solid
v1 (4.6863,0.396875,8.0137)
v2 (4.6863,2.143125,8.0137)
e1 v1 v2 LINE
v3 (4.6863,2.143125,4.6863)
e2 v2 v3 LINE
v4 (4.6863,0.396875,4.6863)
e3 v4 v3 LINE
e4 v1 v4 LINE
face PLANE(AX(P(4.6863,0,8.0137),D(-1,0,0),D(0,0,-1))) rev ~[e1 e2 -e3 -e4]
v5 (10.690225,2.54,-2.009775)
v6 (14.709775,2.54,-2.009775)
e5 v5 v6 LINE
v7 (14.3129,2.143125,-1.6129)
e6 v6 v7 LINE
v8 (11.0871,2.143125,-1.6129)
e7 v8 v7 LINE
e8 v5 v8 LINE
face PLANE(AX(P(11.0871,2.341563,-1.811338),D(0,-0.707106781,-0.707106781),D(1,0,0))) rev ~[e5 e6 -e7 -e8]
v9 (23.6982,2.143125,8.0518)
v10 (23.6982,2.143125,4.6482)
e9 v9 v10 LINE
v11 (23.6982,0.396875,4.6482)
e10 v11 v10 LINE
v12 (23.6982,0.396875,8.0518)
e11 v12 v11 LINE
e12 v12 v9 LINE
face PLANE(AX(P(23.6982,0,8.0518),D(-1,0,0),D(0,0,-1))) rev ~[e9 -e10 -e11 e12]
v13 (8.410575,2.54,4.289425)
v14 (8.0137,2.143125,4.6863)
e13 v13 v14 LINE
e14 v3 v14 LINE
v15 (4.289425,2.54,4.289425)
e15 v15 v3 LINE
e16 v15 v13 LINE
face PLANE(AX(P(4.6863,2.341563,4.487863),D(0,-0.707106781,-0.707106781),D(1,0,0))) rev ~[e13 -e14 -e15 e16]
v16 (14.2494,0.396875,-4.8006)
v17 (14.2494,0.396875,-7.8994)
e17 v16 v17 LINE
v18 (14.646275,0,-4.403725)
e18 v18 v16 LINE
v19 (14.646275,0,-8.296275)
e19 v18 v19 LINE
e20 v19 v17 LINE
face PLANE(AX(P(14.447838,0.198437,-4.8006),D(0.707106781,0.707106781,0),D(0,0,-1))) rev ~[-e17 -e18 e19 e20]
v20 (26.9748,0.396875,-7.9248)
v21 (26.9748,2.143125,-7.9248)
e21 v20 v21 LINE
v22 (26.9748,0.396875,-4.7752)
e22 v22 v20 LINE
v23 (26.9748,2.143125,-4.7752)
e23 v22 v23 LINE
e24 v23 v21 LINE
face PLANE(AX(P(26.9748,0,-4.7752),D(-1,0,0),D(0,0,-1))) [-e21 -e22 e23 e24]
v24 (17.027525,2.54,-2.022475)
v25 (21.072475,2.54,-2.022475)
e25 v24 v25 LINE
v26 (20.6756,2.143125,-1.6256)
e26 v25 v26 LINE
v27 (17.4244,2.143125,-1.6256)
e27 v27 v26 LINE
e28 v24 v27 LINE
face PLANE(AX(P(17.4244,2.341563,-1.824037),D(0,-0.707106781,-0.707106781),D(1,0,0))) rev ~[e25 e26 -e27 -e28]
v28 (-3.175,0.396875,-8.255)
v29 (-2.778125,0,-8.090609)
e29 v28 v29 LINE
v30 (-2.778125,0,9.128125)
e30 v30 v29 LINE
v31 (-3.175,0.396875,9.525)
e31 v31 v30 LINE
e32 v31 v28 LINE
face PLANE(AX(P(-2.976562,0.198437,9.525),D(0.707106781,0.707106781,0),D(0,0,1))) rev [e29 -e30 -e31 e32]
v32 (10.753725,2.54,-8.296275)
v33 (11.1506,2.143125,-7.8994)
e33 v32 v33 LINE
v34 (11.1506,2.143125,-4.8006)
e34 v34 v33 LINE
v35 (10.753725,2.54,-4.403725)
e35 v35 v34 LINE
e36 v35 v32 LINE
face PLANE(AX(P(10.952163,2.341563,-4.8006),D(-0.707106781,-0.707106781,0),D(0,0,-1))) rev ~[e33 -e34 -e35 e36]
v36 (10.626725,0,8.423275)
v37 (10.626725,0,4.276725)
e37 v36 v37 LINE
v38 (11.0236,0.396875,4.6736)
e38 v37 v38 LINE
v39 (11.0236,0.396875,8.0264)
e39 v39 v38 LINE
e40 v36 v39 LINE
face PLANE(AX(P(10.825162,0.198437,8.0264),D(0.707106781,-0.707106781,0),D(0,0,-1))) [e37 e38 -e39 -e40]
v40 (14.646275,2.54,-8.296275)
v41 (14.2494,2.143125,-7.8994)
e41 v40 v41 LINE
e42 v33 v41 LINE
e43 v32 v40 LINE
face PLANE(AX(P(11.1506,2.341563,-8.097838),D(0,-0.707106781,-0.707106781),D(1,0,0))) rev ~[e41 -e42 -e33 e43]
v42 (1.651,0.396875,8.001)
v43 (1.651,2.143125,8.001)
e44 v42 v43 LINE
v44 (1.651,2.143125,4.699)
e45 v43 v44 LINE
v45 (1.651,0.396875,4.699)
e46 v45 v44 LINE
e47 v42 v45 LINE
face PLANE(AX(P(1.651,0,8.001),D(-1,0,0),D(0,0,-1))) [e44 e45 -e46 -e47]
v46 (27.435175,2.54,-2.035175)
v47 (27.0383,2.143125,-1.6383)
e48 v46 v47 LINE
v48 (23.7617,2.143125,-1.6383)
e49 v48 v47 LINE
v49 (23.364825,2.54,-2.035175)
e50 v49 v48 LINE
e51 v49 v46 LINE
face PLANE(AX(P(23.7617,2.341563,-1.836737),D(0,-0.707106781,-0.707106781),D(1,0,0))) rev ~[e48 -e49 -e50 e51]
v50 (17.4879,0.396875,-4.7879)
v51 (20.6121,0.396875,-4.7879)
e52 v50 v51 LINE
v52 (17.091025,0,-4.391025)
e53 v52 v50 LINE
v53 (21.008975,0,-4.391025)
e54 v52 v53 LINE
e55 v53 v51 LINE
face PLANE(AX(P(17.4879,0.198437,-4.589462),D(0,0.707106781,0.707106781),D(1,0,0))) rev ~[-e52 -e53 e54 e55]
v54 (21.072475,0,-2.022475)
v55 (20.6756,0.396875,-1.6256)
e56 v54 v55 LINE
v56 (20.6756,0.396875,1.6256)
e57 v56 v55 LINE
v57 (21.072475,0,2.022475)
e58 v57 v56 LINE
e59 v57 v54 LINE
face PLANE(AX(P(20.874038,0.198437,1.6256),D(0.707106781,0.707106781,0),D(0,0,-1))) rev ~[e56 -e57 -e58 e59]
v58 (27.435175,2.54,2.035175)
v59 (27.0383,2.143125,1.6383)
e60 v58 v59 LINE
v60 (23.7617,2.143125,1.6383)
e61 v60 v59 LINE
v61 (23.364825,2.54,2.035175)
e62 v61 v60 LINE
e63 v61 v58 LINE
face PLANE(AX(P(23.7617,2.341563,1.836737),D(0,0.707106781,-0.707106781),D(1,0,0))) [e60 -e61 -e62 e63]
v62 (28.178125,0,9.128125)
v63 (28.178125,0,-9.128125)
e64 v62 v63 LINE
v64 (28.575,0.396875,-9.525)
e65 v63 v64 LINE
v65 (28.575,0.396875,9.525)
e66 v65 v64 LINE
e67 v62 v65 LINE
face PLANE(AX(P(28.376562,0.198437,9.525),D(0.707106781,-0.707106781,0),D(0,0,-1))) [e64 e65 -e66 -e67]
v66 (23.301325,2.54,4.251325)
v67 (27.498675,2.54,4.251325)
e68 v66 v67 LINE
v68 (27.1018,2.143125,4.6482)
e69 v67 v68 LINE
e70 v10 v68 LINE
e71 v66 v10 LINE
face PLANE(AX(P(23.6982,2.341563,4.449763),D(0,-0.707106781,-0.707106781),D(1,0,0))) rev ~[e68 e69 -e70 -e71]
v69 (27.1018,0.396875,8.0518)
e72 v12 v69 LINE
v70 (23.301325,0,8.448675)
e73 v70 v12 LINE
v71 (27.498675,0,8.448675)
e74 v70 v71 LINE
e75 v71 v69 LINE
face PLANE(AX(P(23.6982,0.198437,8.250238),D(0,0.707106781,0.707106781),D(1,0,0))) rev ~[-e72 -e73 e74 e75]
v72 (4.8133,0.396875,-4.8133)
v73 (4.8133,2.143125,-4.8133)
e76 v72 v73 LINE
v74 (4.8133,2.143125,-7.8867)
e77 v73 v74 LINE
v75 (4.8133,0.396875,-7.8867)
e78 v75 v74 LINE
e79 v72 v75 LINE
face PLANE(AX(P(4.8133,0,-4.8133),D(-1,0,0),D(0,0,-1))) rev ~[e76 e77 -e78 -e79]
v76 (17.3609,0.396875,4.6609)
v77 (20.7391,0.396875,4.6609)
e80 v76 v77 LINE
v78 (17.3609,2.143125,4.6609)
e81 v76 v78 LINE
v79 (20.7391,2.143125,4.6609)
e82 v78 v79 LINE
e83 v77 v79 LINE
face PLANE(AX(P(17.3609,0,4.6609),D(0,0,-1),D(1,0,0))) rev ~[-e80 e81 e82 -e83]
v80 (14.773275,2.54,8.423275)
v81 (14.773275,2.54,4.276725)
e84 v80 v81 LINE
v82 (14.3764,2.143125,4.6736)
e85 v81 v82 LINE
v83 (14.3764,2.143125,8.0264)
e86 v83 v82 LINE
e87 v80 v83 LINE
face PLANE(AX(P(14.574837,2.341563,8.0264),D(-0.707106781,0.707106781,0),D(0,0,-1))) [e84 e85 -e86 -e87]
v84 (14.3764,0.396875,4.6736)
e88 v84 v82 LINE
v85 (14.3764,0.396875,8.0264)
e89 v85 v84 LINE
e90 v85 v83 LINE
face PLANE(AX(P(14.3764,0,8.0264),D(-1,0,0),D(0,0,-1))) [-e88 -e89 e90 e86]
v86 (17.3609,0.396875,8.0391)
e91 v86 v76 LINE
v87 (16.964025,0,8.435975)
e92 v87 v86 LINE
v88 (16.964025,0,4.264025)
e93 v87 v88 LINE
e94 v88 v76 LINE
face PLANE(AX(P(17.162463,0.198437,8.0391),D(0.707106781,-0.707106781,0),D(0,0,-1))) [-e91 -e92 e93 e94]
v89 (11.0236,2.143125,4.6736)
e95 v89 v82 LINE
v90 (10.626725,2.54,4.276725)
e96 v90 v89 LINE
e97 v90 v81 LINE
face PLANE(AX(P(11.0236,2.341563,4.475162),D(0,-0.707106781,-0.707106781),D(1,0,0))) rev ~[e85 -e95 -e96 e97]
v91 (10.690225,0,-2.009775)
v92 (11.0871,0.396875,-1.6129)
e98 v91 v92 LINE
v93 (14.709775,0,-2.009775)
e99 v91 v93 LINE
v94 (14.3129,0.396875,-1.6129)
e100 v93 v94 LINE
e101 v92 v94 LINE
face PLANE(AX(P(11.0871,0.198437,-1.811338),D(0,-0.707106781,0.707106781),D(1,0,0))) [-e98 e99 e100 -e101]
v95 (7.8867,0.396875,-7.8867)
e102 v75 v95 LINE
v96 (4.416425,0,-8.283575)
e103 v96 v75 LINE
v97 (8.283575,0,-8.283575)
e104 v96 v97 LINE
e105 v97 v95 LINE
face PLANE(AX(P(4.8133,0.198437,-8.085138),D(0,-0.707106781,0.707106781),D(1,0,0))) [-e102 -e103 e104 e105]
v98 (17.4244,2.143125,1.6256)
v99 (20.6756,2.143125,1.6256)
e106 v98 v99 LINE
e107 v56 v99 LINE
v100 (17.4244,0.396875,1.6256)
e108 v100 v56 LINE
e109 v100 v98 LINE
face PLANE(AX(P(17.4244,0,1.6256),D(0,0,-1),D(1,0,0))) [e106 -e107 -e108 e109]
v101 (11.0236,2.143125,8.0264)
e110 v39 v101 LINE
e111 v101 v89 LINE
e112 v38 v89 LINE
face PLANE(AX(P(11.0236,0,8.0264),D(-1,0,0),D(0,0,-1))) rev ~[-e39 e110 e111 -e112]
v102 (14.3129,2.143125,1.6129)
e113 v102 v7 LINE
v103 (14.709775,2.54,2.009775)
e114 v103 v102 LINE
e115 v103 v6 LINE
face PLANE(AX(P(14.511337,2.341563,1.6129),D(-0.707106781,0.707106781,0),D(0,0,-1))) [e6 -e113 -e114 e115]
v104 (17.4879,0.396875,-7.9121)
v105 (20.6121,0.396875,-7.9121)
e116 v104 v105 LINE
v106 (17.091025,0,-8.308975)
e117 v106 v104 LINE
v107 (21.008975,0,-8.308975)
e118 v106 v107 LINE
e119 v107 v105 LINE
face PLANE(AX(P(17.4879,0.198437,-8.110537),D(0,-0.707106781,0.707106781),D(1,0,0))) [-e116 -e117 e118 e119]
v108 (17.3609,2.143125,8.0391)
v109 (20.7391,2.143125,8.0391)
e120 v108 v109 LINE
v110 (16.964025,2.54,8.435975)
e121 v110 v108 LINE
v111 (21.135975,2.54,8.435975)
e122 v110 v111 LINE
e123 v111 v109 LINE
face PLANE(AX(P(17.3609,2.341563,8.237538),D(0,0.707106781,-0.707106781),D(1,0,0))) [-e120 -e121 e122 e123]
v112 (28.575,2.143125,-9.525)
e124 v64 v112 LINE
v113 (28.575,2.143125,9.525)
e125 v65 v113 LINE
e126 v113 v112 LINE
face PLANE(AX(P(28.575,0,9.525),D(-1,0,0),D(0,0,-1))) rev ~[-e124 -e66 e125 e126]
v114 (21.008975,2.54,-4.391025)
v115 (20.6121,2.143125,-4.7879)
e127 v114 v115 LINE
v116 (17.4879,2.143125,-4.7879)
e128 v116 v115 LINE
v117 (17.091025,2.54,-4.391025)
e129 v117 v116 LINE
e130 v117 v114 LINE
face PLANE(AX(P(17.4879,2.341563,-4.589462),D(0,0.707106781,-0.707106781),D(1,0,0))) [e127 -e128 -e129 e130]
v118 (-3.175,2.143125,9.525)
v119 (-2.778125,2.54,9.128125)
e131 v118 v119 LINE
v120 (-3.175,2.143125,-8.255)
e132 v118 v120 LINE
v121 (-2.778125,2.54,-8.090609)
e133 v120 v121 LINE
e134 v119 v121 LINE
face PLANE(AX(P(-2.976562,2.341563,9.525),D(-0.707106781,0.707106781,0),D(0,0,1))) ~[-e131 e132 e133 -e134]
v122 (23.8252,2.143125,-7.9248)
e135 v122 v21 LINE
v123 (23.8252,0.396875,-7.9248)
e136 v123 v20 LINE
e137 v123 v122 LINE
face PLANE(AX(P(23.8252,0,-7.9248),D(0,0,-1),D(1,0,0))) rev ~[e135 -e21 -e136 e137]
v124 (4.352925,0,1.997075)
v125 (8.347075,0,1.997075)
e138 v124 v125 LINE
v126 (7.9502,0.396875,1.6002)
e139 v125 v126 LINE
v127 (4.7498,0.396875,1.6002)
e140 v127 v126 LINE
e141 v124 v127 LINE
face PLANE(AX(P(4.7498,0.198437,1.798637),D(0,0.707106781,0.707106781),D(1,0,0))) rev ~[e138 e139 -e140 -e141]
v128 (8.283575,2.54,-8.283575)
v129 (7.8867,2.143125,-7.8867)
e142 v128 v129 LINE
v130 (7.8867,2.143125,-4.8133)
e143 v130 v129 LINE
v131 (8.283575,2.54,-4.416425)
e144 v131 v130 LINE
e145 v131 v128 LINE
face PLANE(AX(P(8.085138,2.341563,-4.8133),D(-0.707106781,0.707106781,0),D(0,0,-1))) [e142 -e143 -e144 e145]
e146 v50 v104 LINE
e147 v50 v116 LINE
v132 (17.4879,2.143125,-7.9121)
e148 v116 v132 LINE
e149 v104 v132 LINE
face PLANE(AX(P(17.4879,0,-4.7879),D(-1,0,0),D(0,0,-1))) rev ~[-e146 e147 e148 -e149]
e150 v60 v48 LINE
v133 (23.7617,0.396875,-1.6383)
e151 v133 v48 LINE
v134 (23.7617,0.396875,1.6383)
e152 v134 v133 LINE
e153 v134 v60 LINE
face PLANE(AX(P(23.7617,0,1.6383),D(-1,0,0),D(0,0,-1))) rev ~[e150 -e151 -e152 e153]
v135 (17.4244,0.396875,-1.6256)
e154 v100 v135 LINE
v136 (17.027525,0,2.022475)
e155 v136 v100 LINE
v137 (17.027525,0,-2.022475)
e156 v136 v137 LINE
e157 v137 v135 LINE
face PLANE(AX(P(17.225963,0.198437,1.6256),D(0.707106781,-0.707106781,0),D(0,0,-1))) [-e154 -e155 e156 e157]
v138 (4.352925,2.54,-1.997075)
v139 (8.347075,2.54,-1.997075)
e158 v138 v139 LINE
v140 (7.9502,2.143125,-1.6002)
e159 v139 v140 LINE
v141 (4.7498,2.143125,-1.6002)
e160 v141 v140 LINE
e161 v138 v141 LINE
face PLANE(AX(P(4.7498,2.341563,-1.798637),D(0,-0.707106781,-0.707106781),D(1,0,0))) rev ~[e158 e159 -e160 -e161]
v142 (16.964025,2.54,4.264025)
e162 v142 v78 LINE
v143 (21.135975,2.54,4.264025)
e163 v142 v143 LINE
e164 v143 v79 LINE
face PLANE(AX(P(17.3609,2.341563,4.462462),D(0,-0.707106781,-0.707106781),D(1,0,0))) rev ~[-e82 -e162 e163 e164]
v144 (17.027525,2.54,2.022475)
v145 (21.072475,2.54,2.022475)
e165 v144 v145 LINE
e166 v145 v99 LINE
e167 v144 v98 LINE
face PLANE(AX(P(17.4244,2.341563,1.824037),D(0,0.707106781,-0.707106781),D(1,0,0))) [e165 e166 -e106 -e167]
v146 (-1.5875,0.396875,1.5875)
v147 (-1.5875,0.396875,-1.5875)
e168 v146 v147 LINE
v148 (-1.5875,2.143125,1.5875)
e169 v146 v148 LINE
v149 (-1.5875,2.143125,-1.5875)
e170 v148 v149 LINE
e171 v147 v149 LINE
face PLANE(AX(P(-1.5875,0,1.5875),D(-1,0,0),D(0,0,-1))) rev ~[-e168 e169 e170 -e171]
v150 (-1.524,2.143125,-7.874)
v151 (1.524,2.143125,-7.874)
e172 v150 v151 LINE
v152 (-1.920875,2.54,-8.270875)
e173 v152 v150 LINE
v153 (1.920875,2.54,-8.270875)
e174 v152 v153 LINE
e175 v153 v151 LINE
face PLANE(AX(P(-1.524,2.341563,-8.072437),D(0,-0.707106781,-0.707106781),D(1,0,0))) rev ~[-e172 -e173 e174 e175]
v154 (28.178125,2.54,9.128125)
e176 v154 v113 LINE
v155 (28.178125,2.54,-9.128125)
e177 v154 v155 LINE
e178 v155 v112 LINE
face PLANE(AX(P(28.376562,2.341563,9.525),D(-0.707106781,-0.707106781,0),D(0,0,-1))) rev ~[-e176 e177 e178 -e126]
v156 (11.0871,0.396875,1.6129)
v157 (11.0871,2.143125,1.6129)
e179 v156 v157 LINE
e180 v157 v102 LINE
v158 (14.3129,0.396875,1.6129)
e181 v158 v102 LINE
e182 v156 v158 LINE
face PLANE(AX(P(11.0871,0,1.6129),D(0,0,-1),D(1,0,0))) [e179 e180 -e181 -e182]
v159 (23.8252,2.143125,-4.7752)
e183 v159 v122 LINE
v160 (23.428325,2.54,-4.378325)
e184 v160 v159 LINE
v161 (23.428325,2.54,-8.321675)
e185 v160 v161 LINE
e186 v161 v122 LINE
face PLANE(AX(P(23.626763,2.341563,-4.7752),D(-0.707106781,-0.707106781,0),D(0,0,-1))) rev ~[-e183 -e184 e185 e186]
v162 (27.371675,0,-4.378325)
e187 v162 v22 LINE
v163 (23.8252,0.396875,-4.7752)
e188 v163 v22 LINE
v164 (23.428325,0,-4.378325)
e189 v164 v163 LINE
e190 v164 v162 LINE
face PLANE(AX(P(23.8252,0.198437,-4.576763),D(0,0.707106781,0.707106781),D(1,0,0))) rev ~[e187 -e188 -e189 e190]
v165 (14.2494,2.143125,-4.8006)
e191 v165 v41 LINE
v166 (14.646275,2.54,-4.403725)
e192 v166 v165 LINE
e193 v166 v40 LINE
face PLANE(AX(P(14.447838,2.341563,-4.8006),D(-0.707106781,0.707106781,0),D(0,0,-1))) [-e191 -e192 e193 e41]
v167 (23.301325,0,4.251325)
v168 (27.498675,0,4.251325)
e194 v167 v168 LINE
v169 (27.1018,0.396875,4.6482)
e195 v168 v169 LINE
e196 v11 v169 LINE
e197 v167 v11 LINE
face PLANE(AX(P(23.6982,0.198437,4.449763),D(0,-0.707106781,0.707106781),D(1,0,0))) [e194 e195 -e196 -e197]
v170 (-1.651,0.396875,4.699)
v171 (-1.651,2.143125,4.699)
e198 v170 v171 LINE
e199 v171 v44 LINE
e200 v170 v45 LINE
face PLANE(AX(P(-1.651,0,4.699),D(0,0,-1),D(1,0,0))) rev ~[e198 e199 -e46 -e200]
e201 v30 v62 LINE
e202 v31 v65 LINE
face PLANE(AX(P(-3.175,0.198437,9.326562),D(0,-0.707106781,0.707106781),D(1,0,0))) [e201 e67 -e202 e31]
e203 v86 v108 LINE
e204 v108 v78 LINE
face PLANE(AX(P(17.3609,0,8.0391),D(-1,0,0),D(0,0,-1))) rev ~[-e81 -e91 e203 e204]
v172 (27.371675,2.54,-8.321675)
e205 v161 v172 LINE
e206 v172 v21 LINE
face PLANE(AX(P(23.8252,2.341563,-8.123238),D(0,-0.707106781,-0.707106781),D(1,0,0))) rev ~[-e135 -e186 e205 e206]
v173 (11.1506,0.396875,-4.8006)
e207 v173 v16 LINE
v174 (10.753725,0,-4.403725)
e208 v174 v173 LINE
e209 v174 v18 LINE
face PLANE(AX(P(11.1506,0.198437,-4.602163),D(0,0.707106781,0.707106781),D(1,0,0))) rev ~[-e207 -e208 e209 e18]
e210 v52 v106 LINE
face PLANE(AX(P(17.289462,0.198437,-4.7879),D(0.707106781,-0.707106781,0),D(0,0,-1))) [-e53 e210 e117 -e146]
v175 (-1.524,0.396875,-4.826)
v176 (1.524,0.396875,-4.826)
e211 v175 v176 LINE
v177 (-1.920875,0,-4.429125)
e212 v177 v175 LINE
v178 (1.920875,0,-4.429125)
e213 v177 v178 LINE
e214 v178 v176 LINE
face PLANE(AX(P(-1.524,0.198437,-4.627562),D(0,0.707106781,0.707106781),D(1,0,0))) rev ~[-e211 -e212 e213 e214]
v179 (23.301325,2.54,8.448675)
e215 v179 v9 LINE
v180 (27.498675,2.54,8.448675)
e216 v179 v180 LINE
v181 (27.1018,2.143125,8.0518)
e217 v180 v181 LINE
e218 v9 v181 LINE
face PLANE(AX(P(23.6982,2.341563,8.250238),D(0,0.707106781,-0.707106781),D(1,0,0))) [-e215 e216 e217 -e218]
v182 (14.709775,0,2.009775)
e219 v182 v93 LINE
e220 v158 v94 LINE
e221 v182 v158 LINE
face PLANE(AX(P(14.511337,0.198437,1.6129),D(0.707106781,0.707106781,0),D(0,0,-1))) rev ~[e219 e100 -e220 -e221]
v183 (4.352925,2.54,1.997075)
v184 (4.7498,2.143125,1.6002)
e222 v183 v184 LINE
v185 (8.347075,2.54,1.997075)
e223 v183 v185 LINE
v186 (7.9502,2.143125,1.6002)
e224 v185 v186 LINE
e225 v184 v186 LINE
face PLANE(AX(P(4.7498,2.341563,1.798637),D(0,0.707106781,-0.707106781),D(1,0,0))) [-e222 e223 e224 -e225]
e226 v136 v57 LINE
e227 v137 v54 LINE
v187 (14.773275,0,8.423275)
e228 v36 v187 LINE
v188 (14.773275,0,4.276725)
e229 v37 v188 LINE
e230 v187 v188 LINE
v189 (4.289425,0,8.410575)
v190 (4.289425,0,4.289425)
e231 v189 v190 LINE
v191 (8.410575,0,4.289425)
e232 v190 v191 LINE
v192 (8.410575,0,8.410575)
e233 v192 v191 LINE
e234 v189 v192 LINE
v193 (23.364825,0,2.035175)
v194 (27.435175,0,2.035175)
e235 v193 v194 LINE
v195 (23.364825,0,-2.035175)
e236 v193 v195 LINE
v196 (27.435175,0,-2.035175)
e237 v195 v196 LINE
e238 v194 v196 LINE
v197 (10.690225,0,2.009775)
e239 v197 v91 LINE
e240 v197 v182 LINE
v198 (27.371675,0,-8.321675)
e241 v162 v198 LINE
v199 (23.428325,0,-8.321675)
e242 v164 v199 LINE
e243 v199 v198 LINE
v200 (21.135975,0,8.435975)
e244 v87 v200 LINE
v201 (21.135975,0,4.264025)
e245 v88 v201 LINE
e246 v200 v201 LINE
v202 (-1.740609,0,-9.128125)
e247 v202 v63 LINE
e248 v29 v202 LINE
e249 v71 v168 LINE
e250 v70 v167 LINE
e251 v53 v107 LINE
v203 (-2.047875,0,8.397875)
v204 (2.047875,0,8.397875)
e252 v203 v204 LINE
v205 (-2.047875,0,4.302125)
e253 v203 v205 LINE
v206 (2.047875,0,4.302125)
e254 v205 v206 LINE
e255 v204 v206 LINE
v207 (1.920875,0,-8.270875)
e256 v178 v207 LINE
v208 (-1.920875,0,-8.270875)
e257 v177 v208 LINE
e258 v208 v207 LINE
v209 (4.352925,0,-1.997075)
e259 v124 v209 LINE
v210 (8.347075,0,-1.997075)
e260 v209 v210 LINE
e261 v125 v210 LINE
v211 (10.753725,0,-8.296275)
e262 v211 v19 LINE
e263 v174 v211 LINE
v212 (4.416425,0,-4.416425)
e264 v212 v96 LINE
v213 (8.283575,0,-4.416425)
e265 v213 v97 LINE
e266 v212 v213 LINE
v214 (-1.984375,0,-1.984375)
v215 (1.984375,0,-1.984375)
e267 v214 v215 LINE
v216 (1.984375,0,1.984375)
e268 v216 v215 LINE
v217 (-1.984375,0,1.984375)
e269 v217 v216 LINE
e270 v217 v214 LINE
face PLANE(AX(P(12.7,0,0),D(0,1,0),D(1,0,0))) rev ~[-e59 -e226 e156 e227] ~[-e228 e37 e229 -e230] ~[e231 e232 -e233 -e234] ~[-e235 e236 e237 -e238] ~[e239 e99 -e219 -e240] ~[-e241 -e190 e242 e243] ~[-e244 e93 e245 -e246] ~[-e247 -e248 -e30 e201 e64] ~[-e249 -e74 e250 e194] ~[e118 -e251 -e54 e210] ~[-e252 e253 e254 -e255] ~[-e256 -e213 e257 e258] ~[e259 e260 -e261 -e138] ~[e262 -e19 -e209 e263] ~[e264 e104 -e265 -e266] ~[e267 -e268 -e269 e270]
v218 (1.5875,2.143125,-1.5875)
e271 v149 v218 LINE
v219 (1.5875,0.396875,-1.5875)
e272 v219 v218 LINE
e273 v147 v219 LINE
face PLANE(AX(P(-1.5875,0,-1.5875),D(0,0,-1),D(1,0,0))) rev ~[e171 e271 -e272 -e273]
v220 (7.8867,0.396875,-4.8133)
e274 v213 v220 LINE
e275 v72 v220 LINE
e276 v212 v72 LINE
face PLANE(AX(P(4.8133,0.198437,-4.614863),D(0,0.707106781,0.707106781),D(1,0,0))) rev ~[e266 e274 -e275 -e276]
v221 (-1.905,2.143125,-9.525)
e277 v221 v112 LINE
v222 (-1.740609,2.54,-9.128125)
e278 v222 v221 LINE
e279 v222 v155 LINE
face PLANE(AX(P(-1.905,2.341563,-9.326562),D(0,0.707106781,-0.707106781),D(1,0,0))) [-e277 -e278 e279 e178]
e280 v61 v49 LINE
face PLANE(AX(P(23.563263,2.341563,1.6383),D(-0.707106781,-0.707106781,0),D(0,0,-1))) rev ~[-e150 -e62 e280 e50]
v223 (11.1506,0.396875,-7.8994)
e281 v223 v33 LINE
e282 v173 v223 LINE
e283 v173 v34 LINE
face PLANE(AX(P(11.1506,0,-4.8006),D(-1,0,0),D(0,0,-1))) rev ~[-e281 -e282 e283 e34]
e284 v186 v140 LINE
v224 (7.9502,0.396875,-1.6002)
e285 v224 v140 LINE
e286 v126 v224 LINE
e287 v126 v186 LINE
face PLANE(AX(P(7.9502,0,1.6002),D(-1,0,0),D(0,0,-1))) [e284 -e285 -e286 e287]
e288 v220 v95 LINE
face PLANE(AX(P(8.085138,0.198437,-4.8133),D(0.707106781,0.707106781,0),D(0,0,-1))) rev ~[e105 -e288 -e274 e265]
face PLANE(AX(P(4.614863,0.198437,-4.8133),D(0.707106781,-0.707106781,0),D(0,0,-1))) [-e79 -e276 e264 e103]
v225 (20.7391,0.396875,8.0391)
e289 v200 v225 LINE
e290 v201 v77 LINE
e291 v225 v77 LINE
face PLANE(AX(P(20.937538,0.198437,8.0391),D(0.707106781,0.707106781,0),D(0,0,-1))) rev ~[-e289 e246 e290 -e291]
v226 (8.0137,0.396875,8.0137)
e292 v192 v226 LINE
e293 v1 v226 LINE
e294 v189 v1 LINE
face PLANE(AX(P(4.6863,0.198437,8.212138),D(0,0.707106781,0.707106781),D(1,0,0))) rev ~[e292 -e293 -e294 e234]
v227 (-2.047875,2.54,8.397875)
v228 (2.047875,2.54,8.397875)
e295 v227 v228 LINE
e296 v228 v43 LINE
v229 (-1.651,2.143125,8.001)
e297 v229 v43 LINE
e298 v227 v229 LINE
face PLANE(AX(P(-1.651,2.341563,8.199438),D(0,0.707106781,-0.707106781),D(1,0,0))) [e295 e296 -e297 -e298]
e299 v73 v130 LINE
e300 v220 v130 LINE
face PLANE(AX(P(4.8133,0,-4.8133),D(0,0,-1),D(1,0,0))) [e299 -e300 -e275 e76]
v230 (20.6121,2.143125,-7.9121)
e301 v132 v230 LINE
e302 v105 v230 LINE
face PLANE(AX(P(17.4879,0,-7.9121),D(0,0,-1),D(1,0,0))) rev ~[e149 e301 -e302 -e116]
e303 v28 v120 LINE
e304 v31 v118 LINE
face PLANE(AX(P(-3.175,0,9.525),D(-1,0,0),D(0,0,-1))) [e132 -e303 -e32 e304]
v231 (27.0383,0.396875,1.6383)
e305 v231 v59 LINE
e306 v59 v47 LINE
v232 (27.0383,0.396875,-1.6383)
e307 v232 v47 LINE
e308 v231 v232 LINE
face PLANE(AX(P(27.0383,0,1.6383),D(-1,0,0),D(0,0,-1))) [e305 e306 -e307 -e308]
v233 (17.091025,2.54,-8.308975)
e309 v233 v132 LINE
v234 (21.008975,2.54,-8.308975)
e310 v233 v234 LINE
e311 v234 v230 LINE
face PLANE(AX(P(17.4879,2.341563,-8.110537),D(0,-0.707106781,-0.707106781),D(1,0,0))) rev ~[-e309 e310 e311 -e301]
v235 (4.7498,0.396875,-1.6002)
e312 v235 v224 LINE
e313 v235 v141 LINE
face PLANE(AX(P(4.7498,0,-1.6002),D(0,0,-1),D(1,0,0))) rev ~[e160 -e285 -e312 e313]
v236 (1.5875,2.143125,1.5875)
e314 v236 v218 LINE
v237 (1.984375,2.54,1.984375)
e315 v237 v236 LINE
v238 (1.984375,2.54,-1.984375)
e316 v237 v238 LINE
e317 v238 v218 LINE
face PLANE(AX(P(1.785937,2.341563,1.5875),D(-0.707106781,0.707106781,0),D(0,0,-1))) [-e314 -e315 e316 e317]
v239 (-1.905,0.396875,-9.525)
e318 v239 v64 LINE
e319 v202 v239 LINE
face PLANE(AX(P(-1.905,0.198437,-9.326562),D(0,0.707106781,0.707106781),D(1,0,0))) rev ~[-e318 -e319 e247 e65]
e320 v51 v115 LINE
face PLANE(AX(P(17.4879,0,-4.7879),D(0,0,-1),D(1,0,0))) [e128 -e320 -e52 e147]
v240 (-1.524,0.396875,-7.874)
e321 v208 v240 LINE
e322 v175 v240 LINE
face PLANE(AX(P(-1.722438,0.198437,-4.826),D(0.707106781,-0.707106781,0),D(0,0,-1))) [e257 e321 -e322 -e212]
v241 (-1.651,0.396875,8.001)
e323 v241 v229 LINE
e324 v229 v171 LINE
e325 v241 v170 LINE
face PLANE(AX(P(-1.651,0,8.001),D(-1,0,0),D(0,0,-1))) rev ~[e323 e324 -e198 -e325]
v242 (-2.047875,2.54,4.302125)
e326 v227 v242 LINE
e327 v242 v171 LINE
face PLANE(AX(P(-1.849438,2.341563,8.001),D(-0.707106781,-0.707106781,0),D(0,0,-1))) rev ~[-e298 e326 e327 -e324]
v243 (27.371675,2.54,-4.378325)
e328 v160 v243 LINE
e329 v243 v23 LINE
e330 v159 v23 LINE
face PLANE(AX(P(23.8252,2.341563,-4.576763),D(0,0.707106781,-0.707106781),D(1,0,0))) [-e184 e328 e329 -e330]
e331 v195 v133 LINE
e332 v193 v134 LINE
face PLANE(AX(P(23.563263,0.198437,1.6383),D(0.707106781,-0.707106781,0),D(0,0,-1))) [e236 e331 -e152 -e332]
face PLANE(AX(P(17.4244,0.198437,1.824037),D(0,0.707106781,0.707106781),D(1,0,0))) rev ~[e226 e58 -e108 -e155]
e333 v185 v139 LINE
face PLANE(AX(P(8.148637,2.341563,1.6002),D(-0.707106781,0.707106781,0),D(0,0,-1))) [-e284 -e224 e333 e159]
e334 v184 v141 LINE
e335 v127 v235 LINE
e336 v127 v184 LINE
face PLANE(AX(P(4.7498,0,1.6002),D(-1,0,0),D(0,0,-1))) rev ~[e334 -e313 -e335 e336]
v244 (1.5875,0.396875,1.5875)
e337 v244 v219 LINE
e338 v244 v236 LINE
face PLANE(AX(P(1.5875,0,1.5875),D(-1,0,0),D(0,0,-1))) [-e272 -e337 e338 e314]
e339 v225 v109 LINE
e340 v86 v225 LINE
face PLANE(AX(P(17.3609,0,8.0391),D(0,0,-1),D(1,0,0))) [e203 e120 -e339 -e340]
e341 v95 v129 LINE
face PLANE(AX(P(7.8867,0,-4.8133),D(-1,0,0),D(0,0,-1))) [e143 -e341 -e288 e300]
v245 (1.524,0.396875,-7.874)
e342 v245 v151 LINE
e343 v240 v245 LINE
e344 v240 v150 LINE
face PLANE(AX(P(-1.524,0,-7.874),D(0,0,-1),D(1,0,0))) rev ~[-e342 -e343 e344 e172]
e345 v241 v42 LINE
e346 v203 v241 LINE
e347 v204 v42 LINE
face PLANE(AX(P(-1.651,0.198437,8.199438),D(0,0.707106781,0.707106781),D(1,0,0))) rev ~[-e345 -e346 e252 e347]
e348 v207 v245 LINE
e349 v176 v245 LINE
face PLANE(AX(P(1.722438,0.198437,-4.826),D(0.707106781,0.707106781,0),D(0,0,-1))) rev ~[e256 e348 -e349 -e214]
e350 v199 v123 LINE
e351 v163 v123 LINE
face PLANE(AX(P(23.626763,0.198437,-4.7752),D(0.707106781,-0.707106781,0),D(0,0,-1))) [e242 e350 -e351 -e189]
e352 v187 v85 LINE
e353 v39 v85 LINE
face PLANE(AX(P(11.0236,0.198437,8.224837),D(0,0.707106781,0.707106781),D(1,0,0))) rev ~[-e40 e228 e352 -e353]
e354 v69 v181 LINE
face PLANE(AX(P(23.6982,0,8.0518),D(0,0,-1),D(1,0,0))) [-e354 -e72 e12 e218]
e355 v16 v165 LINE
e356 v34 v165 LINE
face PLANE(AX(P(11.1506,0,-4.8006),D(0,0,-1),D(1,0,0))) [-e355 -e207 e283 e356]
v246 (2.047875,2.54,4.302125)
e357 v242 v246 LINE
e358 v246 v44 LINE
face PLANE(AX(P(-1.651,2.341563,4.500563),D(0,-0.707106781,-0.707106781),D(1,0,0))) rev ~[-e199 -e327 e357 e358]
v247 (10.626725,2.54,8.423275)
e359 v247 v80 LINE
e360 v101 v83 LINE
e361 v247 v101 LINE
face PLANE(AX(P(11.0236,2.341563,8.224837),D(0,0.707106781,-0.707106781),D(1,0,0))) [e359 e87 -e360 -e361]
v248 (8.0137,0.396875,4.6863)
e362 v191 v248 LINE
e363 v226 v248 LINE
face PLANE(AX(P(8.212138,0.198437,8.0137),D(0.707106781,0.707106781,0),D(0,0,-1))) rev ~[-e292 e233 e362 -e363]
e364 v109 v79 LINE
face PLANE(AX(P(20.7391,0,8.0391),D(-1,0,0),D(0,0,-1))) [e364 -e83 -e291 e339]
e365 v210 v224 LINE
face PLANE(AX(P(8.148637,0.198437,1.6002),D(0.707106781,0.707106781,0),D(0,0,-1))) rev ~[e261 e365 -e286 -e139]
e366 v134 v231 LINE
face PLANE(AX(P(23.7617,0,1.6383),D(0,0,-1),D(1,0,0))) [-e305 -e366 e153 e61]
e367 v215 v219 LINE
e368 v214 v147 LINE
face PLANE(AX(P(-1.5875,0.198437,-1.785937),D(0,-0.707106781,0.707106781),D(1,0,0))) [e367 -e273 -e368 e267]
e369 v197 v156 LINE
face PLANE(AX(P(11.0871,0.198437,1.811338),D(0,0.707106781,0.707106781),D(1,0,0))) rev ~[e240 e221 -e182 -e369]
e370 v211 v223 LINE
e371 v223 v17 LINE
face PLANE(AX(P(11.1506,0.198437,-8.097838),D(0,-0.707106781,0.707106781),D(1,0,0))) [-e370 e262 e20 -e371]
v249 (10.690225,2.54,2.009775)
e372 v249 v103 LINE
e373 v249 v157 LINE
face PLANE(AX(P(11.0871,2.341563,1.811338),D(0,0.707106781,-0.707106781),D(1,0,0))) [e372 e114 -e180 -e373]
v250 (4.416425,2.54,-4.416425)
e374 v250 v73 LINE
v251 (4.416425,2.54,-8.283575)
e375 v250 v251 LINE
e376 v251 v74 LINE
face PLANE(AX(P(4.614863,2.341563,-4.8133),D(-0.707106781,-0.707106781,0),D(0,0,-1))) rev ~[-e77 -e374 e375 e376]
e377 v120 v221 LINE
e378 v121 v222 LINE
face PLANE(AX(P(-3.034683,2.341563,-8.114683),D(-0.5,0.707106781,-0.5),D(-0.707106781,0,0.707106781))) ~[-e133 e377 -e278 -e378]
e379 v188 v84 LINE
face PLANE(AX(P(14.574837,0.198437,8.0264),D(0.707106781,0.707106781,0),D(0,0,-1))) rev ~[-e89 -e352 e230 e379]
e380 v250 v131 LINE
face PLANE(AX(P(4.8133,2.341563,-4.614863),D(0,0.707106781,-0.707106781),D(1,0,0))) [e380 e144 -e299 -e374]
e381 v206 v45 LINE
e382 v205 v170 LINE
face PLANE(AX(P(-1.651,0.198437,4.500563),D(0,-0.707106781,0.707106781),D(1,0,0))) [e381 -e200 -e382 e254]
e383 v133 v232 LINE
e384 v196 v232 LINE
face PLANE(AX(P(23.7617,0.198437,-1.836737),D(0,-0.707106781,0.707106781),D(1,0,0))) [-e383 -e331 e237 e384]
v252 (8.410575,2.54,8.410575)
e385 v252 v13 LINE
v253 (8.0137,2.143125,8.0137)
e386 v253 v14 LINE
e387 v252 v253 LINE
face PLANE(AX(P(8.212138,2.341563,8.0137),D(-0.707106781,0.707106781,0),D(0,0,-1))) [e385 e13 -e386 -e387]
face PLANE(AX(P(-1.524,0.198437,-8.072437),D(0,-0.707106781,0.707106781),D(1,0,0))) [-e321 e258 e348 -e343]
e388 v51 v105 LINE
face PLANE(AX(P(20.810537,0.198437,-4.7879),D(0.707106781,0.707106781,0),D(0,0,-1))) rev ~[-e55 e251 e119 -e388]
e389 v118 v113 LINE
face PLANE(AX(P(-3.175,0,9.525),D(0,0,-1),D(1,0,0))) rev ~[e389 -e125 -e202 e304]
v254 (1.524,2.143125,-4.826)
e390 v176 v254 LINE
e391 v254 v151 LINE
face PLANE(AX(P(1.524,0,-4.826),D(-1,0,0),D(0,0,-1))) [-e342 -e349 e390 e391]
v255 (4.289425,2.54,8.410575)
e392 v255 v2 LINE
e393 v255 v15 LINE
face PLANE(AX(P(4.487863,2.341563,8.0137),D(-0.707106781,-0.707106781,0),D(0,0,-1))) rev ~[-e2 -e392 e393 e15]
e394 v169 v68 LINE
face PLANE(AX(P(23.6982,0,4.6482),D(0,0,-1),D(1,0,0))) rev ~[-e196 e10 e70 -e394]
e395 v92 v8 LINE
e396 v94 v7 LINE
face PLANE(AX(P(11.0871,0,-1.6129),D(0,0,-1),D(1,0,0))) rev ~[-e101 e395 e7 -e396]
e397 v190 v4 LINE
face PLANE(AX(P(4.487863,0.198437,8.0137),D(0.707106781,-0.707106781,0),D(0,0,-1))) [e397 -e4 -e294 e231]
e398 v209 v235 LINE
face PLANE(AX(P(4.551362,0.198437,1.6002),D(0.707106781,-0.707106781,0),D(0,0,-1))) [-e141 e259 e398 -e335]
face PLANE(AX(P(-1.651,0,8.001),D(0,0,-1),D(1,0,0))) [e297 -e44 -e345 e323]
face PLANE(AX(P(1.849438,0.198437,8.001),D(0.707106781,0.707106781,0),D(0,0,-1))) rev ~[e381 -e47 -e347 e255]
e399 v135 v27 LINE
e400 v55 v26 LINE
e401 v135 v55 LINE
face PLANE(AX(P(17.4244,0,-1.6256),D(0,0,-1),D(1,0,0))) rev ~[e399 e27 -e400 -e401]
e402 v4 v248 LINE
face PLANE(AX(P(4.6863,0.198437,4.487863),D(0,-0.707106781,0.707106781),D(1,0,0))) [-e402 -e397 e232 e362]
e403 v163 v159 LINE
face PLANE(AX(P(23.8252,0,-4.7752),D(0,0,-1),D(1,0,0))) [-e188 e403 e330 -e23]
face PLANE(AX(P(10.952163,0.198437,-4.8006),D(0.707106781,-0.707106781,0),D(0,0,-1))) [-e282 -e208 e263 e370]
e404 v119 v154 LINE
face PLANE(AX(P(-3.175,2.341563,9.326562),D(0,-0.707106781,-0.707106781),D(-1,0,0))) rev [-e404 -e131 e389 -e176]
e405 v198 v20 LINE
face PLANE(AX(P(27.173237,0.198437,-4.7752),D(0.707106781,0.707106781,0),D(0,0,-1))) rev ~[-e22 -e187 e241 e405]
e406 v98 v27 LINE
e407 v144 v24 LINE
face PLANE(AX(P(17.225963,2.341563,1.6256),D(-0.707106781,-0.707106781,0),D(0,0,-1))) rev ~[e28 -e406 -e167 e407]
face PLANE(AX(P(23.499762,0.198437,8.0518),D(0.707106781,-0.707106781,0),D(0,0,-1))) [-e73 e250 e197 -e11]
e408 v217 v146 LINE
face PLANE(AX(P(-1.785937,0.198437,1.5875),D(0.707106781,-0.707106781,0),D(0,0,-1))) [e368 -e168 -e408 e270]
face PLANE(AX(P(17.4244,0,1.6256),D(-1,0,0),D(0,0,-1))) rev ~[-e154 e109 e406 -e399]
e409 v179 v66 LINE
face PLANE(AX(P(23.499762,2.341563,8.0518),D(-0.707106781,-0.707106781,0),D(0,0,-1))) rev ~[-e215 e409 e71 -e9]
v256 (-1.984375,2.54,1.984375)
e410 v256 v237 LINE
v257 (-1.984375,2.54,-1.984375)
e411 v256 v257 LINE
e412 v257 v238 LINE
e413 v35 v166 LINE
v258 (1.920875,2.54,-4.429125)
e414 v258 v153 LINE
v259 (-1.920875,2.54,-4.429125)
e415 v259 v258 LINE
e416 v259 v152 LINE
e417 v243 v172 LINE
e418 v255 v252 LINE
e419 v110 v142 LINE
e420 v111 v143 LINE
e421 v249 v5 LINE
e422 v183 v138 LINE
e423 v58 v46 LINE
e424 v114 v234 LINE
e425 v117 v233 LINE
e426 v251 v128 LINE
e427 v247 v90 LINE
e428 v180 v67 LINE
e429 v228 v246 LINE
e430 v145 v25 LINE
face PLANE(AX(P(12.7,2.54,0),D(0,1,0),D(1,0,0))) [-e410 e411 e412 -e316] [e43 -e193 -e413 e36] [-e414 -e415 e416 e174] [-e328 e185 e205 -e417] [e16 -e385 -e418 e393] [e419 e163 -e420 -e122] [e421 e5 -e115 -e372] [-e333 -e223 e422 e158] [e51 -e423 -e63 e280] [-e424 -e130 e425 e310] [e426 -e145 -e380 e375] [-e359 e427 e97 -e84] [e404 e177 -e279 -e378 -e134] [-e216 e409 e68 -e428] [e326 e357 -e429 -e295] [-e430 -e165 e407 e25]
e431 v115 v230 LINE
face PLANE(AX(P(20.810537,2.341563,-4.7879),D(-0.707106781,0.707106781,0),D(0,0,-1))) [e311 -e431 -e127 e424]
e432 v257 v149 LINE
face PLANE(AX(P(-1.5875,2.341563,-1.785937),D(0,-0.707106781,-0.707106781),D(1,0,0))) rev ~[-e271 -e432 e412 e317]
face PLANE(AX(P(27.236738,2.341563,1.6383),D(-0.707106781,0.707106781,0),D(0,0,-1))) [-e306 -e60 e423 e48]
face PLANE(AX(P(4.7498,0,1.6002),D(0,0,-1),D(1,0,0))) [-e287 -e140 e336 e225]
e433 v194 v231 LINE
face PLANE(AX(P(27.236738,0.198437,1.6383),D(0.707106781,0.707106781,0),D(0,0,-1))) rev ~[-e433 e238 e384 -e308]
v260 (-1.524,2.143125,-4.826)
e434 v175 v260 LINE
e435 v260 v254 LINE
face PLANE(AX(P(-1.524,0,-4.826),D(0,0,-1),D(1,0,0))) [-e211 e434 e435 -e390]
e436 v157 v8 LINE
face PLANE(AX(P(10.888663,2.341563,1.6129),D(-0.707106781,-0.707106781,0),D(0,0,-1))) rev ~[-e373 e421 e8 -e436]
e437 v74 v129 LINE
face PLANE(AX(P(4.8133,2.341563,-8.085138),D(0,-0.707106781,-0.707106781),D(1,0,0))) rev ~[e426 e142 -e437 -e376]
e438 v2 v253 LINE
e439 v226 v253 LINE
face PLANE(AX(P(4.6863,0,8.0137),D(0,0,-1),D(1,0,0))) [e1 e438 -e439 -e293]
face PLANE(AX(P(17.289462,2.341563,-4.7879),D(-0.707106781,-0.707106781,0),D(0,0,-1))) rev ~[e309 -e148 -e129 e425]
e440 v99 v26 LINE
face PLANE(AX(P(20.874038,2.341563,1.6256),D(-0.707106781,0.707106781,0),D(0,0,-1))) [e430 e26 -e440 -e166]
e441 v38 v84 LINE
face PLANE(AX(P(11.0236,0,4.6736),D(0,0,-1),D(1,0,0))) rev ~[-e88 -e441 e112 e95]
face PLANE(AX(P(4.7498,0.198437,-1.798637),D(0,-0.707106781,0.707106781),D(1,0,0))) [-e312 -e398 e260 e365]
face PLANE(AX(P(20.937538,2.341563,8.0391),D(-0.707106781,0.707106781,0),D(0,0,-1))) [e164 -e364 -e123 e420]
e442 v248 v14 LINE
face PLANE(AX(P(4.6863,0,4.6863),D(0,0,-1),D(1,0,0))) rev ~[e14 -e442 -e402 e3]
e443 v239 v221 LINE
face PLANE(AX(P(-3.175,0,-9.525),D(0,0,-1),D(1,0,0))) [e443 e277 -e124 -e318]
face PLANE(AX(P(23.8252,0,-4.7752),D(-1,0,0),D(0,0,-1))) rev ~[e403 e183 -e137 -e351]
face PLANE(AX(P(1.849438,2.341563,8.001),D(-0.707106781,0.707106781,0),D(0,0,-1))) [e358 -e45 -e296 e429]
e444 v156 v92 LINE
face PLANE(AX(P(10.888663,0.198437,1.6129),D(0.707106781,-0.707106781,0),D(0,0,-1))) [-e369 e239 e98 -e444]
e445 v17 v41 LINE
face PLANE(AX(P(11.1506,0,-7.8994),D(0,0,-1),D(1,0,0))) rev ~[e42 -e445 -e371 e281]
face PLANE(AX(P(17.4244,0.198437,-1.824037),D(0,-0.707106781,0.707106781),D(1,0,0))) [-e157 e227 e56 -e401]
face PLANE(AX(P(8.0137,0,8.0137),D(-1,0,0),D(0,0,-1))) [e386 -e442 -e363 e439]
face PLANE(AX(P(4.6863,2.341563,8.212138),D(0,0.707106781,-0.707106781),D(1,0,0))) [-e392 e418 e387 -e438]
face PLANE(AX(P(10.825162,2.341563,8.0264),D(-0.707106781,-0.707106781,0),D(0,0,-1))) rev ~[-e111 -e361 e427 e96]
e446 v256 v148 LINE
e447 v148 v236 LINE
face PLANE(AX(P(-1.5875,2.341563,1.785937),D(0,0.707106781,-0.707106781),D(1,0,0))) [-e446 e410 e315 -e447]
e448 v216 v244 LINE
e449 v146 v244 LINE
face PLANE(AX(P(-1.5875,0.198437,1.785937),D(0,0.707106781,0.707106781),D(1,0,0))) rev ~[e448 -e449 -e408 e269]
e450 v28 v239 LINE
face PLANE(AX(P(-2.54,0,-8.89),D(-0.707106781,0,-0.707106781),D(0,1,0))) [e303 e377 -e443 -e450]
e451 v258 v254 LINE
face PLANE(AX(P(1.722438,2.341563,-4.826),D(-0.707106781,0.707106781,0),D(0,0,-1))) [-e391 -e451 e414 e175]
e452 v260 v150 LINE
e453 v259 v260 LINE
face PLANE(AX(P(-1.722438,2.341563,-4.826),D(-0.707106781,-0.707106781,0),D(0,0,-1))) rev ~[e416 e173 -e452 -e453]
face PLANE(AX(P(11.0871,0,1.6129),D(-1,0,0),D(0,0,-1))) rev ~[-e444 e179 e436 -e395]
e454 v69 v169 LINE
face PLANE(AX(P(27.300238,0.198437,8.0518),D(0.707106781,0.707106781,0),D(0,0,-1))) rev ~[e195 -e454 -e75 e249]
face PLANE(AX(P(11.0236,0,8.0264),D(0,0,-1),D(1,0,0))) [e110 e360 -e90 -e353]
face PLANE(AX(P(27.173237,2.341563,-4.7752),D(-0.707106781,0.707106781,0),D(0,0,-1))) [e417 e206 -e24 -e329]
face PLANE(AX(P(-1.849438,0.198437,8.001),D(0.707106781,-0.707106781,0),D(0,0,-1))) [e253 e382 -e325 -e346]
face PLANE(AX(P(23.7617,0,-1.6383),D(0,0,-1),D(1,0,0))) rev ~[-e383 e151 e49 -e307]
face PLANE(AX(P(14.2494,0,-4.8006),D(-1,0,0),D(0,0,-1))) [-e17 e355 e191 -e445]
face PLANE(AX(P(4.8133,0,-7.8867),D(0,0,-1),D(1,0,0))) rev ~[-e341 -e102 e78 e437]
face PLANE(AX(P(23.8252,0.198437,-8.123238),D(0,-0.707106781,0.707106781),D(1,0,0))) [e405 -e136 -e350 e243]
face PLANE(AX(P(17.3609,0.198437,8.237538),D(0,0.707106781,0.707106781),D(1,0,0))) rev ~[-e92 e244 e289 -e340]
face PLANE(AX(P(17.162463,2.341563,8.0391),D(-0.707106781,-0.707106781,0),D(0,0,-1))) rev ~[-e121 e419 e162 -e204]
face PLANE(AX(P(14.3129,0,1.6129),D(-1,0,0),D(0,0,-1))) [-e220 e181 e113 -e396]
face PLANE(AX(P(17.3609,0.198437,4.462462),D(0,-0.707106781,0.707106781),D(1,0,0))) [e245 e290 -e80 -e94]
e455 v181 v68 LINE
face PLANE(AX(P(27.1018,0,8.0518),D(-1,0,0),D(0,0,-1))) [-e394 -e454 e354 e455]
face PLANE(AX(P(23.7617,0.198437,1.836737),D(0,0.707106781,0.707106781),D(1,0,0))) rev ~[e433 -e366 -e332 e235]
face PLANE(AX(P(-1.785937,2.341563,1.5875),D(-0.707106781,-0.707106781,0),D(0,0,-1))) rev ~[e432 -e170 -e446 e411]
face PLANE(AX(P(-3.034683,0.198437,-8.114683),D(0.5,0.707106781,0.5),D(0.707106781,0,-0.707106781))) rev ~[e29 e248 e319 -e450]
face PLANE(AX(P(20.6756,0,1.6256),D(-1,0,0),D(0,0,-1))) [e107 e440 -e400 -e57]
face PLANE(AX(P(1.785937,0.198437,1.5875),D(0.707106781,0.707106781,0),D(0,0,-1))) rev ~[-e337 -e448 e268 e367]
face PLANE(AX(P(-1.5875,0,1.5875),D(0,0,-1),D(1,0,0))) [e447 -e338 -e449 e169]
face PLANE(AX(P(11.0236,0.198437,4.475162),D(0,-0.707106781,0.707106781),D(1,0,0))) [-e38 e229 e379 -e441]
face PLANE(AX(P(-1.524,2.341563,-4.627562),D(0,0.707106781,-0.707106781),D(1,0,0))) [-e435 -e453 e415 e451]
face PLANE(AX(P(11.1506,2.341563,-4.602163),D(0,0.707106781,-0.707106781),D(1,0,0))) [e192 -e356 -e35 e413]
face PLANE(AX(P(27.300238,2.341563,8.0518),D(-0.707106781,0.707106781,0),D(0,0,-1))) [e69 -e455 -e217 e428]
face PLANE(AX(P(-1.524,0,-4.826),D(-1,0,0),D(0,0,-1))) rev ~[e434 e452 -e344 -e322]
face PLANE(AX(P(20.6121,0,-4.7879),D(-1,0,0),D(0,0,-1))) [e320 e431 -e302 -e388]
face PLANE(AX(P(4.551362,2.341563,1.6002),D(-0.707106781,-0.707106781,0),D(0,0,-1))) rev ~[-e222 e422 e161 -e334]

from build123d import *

# Parameters (mm, degrees)
SKETCH1_W           = 31.75
SKETCH1_H           = 19.05
SKETCH1_W_2         = 3.175
SKETCH1_H_2         = 3.175
SKETCH1_W_3         = 3.2004
SKETCH1_H_3         = 3.2004
SKETCH1_W_4         = 3.2258
SKETCH1_H_4         = 3.2258
SKETCH1_W_5         = 3.2512
SKETCH1_H_5         = 3.2512
SKETCH1_W_6         = 3.2766
SKETCH1_H_6         = 3.2766
SKETCH1_W_7         = 3.048
SKETCH1_H_7         = 3.048
SKETCH1_W_8         = 3.0734
SKETCH1_H_8         = 3.0734
SKETCH1_W_9         = 3.0988
SKETCH1_H_9         = 3.0988
SKETCH1_W_10        = 3.1242
SKETCH1_H_10        = 3.1242
SKETCH1_W_11        = 3.1496
SKETCH1_H_11        = 3.1496
SKETCH1_W_12        = 3.302
SKETCH1_H_12        = 3.302
SKETCH1_W_13        = 3.3274
SKETCH1_H_13        = 3.3274
SKETCH1_W_14        = 3.3528
SKETCH1_H_14        = 3.3528
SKETCH1_W_15        = 3.3782
SKETCH1_H_15        = 3.3782
SKETCH1_W_16        = 3.4036
SKETCH1_H_16        = 3.4036
BOSS_EXTRUDE1_DEPTH = 2.54
CHAMFER1_SIZE       = 1.27
CHAMFER2_SIZE       = 0.396875


with BuildPart() as part:
    # Sketch1 → Boss-Extrude1 (new body)
    with BuildSketch(Plane(origin=(0, 0, 0), x_dir=(1, 0, 0), z_dir=(0, 1, 0))):
        with Locations((12.7, 0)):
            Rectangle(SKETCH1_W, SKETCH1_H)
        Rectangle(SKETCH1_W_2, SKETCH1_H_2, mode=Mode.SUBTRACT)
        with Locations((6.35, 0)):
            Rectangle(SKETCH1_W_3, SKETCH1_H_3, mode=Mode.SUBTRACT)
        with Locations((12.7, 0)):
            Rectangle(SKETCH1_W_4, SKETCH1_H_4, mode=Mode.SUBTRACT)
        with Locations((19.05, 0)):
            Rectangle(SKETCH1_W_5, SKETCH1_H_5, mode=Mode.SUBTRACT)
        with Locations((25.4, 0)):
            Rectangle(SKETCH1_W_6, SKETCH1_H_6, mode=Mode.SUBTRACT)
        with Locations((0, 6.35)):
            Rectangle(SKETCH1_W_7, SKETCH1_H_7, mode=Mode.SUBTRACT)
        with Locations((6.35, 6.35)):
            Rectangle(SKETCH1_W_8, SKETCH1_H_8, mode=Mode.SUBTRACT)
        with Locations((12.7, 6.35)):
            Rectangle(SKETCH1_W_9, SKETCH1_H_9, mode=Mode.SUBTRACT)
        with Locations((19.05, 6.35)):
            Rectangle(SKETCH1_W_10, SKETCH1_H_10, mode=Mode.SUBTRACT)
        with Locations((25.4, 6.35)):
            Rectangle(SKETCH1_W_11, SKETCH1_H_11, mode=Mode.SUBTRACT)
        with Locations((0, -6.35)):
            Rectangle(SKETCH1_W_12, SKETCH1_H_12, mode=Mode.SUBTRACT)
        with Locations((6.35, -6.35)):
            Rectangle(SKETCH1_W_13, SKETCH1_H_13, mode=Mode.SUBTRACT)
        with Locations((12.7, -6.35)):
            Rectangle(SKETCH1_W_14, SKETCH1_H_14, mode=Mode.SUBTRACT)
        with Locations((19.05, -6.35)):
            Rectangle(SKETCH1_W_15, SKETCH1_H_15, mode=Mode.SUBTRACT)
        with Locations((25.4, -6.35)):
            Rectangle(SKETCH1_W_16, SKETCH1_H_16, mode=Mode.SUBTRACT)
    extrude(amount=BOSS_EXTRUDE1_DEPTH)

    # Chamfer1
    chamfer1_edges = [part.edges().sort_by_distance(p)[0] for p in [
        (-3.175, 1.27, -9.525),
    ]]
    chamfer(chamfer1_edges, length=CHAMFER1_SIZE)

    # Chamfer2
    chamfer2_edges = [part.edges().sort_by_distance(p)[0] for p in [
        (14.2494, 0, -6.35),
        (12.7, 0, -7.8994),
        (11.1506, 0, -6.35),
        (12.7, 0, -4.8006),
        (14.2494, 2.54, -6.35),
        (12.7, 2.54, -7.8994),
        (11.1506, 2.54, -6.35),
        (12.7, 2.54, -4.8006),
        (20.6121, 0, -6.35),
        (19.05, 0, -7.9121),
        (17.4879, 0, -6.35),
        (19.05, 0, -4.7879),
        (20.6121, 2.54, -6.35),
        (19.05, 2.54, -7.9121),
        (17.4879, 2.54, -6.35),
        (19.05, 2.54, -4.7879),
        (28.575, 2.54, 0),
        (26.9748, 0, -6.35),
        (25.4, 0, -7.9248),
        (23.8252, 0, -6.35),
        (25.4, 0, -4.7752),
        (26.9748, 2.54, -6.35),
        (25.4, 2.54, -7.9248),
        (23.8252, 2.54, -6.35),
        (25.4, 2.54, -4.7752),
        (1.651, 0, 6.35),
        (0, 0, 4.699),
        (-1.651, 0, 6.35),
        (0, 0, 8.001),
        (1.651, 2.54, 6.35),
        (0, 2.54, 4.699),
        (-1.651, 2.54, 6.35),
        (0, 2.54, 8.001),
        (1.5875, 0, 0),
        (0, 0, -1.5875),
        (8.0137, 0, 6.35),
        (6.35, 0, 4.6863),
        (4.6863, 0, 6.35),
        (6.35, 0, 8.0137),
        (8.0137, 2.54, 6.35),
        (6.35, 2.54, 4.6863),
        (4.6863, 2.54, 6.35),
        (6.35, 2.54, 8.0137),
        (-1.5875, 0, 0),
        (0, 0, 1.5875),
        (1.5875, 2.54, 0),
        (13.335, 2.54, -9.525),
        (14.3764, 0, 6.35),
        (12.7, 0, 4.6736),
        (0, 2.54, -1.5875),
        (11.0236, 0, 6.35),
        (12.7, 0, 8.0264),
        (14.3764, 2.54, 6.35),
        (12.7, 2.54, 4.6736),
        (11.0236, 2.54, 6.35),
        (12.7, 2.54, 8.0264),
        (-1.5875, 2.54, 0),
        (0, 2.54, 1.5875),
        (20.7391, 0, 6.35),
        (19.05, 0, 4.6609),
        (17.3609, 0, 6.35),
        (19.05, 0, 8.0391),
        (20.7391, 2.54, 6.35),
        (19.05, 2.54, 4.6609),
        (17.3609, 2.54, 6.35),
        (19.05, 2.54, 8.0391),
        (27.1018, 0, 6.35),
        (25.4, 0, 4.6482),
        (23.6982, 0, 6.35),
        (25.4, 0, 8.0518),
        (27.1018, 2.54, 6.35),
        (25.4, 2.54, 4.6482),
        (23.6982, 2.54, 6.35),
        (25.4, 2.54, 8.0518),
        (-3.175, 0, 0.635),
        (-3.175, 2.54, 0.635),
        (-2.54, 0, -8.89),
        (-2.54, 2.54, -8.89),
        (7.9502, 0, 0),
        (6.35, 0, -1.6002),
        (4.7498, 0, 0),
        (6.35, 0, 1.6002),
        (7.9502, 2.54, 0),
        (6.35, 2.54, -1.6002),
        (4.7498, 2.54, 0),
        (6.35, 2.54, 1.6002),
        (14.3129, 0, 0),
        (12.7, 0, -1.6129),
        (11.0871, 0, 0),
        (12.7, 0, 1.6129),
        (14.3129, 2.54, 0),
        (12.7, 2.54, -1.6129),
        (11.0871, 2.54, 0),
        (12.7, 2.54, 1.6129),
        (13.335, 0, -9.525),
        (28.575, 0, 0),
        (20.6756, 0, 0),
        (19.05, 0, -1.6256),
        (17.4244, 0, 0),
        (19.05, 0, 1.6256),
        (20.6756, 2.54, 0),
        (19.05, 2.54, -1.6256),
        (17.4244, 2.54, 0),
        (19.05, 2.54, 1.6256),
        (12.7, 0, 9.525),
        (27.0383, 0, 0),
        (25.4, 0, -1.6383),
        (23.7617, 0, 0),
        (25.4, 0, 1.6383),
        (27.0383, 2.54, 0),
        (25.4, 2.54, -1.6383),
        (23.7617, 2.54, 0),
        (25.4, 2.54, 1.6383),
        (1.524, 0, -6.35),
        (0, 0, -7.874),
        (-1.524, 0, -6.35),
        (0, 0, -4.826),
        (1.524, 2.54, -6.35),
        (0, 2.54, -7.874),
        (-1.524, 2.54, -6.35),
        (0, 2.54, -4.826),
        (12.7, 2.54, 9.525),
        (7.8867, 0, -6.35),
        (6.35, 0, -7.8867),
        (4.8133, 0, -6.35),
        (6.35, 0, -4.8133),
        (7.8867, 2.54, -6.35),
        (6.35, 2.54, -7.8867),
        (4.8133, 2.54, -6.35),
        (6.35, 2.54, -4.8133),
    ]]
    chamfer(chamfer2_edges, length=CHAMFER2_SIZE)


solid = part.part
